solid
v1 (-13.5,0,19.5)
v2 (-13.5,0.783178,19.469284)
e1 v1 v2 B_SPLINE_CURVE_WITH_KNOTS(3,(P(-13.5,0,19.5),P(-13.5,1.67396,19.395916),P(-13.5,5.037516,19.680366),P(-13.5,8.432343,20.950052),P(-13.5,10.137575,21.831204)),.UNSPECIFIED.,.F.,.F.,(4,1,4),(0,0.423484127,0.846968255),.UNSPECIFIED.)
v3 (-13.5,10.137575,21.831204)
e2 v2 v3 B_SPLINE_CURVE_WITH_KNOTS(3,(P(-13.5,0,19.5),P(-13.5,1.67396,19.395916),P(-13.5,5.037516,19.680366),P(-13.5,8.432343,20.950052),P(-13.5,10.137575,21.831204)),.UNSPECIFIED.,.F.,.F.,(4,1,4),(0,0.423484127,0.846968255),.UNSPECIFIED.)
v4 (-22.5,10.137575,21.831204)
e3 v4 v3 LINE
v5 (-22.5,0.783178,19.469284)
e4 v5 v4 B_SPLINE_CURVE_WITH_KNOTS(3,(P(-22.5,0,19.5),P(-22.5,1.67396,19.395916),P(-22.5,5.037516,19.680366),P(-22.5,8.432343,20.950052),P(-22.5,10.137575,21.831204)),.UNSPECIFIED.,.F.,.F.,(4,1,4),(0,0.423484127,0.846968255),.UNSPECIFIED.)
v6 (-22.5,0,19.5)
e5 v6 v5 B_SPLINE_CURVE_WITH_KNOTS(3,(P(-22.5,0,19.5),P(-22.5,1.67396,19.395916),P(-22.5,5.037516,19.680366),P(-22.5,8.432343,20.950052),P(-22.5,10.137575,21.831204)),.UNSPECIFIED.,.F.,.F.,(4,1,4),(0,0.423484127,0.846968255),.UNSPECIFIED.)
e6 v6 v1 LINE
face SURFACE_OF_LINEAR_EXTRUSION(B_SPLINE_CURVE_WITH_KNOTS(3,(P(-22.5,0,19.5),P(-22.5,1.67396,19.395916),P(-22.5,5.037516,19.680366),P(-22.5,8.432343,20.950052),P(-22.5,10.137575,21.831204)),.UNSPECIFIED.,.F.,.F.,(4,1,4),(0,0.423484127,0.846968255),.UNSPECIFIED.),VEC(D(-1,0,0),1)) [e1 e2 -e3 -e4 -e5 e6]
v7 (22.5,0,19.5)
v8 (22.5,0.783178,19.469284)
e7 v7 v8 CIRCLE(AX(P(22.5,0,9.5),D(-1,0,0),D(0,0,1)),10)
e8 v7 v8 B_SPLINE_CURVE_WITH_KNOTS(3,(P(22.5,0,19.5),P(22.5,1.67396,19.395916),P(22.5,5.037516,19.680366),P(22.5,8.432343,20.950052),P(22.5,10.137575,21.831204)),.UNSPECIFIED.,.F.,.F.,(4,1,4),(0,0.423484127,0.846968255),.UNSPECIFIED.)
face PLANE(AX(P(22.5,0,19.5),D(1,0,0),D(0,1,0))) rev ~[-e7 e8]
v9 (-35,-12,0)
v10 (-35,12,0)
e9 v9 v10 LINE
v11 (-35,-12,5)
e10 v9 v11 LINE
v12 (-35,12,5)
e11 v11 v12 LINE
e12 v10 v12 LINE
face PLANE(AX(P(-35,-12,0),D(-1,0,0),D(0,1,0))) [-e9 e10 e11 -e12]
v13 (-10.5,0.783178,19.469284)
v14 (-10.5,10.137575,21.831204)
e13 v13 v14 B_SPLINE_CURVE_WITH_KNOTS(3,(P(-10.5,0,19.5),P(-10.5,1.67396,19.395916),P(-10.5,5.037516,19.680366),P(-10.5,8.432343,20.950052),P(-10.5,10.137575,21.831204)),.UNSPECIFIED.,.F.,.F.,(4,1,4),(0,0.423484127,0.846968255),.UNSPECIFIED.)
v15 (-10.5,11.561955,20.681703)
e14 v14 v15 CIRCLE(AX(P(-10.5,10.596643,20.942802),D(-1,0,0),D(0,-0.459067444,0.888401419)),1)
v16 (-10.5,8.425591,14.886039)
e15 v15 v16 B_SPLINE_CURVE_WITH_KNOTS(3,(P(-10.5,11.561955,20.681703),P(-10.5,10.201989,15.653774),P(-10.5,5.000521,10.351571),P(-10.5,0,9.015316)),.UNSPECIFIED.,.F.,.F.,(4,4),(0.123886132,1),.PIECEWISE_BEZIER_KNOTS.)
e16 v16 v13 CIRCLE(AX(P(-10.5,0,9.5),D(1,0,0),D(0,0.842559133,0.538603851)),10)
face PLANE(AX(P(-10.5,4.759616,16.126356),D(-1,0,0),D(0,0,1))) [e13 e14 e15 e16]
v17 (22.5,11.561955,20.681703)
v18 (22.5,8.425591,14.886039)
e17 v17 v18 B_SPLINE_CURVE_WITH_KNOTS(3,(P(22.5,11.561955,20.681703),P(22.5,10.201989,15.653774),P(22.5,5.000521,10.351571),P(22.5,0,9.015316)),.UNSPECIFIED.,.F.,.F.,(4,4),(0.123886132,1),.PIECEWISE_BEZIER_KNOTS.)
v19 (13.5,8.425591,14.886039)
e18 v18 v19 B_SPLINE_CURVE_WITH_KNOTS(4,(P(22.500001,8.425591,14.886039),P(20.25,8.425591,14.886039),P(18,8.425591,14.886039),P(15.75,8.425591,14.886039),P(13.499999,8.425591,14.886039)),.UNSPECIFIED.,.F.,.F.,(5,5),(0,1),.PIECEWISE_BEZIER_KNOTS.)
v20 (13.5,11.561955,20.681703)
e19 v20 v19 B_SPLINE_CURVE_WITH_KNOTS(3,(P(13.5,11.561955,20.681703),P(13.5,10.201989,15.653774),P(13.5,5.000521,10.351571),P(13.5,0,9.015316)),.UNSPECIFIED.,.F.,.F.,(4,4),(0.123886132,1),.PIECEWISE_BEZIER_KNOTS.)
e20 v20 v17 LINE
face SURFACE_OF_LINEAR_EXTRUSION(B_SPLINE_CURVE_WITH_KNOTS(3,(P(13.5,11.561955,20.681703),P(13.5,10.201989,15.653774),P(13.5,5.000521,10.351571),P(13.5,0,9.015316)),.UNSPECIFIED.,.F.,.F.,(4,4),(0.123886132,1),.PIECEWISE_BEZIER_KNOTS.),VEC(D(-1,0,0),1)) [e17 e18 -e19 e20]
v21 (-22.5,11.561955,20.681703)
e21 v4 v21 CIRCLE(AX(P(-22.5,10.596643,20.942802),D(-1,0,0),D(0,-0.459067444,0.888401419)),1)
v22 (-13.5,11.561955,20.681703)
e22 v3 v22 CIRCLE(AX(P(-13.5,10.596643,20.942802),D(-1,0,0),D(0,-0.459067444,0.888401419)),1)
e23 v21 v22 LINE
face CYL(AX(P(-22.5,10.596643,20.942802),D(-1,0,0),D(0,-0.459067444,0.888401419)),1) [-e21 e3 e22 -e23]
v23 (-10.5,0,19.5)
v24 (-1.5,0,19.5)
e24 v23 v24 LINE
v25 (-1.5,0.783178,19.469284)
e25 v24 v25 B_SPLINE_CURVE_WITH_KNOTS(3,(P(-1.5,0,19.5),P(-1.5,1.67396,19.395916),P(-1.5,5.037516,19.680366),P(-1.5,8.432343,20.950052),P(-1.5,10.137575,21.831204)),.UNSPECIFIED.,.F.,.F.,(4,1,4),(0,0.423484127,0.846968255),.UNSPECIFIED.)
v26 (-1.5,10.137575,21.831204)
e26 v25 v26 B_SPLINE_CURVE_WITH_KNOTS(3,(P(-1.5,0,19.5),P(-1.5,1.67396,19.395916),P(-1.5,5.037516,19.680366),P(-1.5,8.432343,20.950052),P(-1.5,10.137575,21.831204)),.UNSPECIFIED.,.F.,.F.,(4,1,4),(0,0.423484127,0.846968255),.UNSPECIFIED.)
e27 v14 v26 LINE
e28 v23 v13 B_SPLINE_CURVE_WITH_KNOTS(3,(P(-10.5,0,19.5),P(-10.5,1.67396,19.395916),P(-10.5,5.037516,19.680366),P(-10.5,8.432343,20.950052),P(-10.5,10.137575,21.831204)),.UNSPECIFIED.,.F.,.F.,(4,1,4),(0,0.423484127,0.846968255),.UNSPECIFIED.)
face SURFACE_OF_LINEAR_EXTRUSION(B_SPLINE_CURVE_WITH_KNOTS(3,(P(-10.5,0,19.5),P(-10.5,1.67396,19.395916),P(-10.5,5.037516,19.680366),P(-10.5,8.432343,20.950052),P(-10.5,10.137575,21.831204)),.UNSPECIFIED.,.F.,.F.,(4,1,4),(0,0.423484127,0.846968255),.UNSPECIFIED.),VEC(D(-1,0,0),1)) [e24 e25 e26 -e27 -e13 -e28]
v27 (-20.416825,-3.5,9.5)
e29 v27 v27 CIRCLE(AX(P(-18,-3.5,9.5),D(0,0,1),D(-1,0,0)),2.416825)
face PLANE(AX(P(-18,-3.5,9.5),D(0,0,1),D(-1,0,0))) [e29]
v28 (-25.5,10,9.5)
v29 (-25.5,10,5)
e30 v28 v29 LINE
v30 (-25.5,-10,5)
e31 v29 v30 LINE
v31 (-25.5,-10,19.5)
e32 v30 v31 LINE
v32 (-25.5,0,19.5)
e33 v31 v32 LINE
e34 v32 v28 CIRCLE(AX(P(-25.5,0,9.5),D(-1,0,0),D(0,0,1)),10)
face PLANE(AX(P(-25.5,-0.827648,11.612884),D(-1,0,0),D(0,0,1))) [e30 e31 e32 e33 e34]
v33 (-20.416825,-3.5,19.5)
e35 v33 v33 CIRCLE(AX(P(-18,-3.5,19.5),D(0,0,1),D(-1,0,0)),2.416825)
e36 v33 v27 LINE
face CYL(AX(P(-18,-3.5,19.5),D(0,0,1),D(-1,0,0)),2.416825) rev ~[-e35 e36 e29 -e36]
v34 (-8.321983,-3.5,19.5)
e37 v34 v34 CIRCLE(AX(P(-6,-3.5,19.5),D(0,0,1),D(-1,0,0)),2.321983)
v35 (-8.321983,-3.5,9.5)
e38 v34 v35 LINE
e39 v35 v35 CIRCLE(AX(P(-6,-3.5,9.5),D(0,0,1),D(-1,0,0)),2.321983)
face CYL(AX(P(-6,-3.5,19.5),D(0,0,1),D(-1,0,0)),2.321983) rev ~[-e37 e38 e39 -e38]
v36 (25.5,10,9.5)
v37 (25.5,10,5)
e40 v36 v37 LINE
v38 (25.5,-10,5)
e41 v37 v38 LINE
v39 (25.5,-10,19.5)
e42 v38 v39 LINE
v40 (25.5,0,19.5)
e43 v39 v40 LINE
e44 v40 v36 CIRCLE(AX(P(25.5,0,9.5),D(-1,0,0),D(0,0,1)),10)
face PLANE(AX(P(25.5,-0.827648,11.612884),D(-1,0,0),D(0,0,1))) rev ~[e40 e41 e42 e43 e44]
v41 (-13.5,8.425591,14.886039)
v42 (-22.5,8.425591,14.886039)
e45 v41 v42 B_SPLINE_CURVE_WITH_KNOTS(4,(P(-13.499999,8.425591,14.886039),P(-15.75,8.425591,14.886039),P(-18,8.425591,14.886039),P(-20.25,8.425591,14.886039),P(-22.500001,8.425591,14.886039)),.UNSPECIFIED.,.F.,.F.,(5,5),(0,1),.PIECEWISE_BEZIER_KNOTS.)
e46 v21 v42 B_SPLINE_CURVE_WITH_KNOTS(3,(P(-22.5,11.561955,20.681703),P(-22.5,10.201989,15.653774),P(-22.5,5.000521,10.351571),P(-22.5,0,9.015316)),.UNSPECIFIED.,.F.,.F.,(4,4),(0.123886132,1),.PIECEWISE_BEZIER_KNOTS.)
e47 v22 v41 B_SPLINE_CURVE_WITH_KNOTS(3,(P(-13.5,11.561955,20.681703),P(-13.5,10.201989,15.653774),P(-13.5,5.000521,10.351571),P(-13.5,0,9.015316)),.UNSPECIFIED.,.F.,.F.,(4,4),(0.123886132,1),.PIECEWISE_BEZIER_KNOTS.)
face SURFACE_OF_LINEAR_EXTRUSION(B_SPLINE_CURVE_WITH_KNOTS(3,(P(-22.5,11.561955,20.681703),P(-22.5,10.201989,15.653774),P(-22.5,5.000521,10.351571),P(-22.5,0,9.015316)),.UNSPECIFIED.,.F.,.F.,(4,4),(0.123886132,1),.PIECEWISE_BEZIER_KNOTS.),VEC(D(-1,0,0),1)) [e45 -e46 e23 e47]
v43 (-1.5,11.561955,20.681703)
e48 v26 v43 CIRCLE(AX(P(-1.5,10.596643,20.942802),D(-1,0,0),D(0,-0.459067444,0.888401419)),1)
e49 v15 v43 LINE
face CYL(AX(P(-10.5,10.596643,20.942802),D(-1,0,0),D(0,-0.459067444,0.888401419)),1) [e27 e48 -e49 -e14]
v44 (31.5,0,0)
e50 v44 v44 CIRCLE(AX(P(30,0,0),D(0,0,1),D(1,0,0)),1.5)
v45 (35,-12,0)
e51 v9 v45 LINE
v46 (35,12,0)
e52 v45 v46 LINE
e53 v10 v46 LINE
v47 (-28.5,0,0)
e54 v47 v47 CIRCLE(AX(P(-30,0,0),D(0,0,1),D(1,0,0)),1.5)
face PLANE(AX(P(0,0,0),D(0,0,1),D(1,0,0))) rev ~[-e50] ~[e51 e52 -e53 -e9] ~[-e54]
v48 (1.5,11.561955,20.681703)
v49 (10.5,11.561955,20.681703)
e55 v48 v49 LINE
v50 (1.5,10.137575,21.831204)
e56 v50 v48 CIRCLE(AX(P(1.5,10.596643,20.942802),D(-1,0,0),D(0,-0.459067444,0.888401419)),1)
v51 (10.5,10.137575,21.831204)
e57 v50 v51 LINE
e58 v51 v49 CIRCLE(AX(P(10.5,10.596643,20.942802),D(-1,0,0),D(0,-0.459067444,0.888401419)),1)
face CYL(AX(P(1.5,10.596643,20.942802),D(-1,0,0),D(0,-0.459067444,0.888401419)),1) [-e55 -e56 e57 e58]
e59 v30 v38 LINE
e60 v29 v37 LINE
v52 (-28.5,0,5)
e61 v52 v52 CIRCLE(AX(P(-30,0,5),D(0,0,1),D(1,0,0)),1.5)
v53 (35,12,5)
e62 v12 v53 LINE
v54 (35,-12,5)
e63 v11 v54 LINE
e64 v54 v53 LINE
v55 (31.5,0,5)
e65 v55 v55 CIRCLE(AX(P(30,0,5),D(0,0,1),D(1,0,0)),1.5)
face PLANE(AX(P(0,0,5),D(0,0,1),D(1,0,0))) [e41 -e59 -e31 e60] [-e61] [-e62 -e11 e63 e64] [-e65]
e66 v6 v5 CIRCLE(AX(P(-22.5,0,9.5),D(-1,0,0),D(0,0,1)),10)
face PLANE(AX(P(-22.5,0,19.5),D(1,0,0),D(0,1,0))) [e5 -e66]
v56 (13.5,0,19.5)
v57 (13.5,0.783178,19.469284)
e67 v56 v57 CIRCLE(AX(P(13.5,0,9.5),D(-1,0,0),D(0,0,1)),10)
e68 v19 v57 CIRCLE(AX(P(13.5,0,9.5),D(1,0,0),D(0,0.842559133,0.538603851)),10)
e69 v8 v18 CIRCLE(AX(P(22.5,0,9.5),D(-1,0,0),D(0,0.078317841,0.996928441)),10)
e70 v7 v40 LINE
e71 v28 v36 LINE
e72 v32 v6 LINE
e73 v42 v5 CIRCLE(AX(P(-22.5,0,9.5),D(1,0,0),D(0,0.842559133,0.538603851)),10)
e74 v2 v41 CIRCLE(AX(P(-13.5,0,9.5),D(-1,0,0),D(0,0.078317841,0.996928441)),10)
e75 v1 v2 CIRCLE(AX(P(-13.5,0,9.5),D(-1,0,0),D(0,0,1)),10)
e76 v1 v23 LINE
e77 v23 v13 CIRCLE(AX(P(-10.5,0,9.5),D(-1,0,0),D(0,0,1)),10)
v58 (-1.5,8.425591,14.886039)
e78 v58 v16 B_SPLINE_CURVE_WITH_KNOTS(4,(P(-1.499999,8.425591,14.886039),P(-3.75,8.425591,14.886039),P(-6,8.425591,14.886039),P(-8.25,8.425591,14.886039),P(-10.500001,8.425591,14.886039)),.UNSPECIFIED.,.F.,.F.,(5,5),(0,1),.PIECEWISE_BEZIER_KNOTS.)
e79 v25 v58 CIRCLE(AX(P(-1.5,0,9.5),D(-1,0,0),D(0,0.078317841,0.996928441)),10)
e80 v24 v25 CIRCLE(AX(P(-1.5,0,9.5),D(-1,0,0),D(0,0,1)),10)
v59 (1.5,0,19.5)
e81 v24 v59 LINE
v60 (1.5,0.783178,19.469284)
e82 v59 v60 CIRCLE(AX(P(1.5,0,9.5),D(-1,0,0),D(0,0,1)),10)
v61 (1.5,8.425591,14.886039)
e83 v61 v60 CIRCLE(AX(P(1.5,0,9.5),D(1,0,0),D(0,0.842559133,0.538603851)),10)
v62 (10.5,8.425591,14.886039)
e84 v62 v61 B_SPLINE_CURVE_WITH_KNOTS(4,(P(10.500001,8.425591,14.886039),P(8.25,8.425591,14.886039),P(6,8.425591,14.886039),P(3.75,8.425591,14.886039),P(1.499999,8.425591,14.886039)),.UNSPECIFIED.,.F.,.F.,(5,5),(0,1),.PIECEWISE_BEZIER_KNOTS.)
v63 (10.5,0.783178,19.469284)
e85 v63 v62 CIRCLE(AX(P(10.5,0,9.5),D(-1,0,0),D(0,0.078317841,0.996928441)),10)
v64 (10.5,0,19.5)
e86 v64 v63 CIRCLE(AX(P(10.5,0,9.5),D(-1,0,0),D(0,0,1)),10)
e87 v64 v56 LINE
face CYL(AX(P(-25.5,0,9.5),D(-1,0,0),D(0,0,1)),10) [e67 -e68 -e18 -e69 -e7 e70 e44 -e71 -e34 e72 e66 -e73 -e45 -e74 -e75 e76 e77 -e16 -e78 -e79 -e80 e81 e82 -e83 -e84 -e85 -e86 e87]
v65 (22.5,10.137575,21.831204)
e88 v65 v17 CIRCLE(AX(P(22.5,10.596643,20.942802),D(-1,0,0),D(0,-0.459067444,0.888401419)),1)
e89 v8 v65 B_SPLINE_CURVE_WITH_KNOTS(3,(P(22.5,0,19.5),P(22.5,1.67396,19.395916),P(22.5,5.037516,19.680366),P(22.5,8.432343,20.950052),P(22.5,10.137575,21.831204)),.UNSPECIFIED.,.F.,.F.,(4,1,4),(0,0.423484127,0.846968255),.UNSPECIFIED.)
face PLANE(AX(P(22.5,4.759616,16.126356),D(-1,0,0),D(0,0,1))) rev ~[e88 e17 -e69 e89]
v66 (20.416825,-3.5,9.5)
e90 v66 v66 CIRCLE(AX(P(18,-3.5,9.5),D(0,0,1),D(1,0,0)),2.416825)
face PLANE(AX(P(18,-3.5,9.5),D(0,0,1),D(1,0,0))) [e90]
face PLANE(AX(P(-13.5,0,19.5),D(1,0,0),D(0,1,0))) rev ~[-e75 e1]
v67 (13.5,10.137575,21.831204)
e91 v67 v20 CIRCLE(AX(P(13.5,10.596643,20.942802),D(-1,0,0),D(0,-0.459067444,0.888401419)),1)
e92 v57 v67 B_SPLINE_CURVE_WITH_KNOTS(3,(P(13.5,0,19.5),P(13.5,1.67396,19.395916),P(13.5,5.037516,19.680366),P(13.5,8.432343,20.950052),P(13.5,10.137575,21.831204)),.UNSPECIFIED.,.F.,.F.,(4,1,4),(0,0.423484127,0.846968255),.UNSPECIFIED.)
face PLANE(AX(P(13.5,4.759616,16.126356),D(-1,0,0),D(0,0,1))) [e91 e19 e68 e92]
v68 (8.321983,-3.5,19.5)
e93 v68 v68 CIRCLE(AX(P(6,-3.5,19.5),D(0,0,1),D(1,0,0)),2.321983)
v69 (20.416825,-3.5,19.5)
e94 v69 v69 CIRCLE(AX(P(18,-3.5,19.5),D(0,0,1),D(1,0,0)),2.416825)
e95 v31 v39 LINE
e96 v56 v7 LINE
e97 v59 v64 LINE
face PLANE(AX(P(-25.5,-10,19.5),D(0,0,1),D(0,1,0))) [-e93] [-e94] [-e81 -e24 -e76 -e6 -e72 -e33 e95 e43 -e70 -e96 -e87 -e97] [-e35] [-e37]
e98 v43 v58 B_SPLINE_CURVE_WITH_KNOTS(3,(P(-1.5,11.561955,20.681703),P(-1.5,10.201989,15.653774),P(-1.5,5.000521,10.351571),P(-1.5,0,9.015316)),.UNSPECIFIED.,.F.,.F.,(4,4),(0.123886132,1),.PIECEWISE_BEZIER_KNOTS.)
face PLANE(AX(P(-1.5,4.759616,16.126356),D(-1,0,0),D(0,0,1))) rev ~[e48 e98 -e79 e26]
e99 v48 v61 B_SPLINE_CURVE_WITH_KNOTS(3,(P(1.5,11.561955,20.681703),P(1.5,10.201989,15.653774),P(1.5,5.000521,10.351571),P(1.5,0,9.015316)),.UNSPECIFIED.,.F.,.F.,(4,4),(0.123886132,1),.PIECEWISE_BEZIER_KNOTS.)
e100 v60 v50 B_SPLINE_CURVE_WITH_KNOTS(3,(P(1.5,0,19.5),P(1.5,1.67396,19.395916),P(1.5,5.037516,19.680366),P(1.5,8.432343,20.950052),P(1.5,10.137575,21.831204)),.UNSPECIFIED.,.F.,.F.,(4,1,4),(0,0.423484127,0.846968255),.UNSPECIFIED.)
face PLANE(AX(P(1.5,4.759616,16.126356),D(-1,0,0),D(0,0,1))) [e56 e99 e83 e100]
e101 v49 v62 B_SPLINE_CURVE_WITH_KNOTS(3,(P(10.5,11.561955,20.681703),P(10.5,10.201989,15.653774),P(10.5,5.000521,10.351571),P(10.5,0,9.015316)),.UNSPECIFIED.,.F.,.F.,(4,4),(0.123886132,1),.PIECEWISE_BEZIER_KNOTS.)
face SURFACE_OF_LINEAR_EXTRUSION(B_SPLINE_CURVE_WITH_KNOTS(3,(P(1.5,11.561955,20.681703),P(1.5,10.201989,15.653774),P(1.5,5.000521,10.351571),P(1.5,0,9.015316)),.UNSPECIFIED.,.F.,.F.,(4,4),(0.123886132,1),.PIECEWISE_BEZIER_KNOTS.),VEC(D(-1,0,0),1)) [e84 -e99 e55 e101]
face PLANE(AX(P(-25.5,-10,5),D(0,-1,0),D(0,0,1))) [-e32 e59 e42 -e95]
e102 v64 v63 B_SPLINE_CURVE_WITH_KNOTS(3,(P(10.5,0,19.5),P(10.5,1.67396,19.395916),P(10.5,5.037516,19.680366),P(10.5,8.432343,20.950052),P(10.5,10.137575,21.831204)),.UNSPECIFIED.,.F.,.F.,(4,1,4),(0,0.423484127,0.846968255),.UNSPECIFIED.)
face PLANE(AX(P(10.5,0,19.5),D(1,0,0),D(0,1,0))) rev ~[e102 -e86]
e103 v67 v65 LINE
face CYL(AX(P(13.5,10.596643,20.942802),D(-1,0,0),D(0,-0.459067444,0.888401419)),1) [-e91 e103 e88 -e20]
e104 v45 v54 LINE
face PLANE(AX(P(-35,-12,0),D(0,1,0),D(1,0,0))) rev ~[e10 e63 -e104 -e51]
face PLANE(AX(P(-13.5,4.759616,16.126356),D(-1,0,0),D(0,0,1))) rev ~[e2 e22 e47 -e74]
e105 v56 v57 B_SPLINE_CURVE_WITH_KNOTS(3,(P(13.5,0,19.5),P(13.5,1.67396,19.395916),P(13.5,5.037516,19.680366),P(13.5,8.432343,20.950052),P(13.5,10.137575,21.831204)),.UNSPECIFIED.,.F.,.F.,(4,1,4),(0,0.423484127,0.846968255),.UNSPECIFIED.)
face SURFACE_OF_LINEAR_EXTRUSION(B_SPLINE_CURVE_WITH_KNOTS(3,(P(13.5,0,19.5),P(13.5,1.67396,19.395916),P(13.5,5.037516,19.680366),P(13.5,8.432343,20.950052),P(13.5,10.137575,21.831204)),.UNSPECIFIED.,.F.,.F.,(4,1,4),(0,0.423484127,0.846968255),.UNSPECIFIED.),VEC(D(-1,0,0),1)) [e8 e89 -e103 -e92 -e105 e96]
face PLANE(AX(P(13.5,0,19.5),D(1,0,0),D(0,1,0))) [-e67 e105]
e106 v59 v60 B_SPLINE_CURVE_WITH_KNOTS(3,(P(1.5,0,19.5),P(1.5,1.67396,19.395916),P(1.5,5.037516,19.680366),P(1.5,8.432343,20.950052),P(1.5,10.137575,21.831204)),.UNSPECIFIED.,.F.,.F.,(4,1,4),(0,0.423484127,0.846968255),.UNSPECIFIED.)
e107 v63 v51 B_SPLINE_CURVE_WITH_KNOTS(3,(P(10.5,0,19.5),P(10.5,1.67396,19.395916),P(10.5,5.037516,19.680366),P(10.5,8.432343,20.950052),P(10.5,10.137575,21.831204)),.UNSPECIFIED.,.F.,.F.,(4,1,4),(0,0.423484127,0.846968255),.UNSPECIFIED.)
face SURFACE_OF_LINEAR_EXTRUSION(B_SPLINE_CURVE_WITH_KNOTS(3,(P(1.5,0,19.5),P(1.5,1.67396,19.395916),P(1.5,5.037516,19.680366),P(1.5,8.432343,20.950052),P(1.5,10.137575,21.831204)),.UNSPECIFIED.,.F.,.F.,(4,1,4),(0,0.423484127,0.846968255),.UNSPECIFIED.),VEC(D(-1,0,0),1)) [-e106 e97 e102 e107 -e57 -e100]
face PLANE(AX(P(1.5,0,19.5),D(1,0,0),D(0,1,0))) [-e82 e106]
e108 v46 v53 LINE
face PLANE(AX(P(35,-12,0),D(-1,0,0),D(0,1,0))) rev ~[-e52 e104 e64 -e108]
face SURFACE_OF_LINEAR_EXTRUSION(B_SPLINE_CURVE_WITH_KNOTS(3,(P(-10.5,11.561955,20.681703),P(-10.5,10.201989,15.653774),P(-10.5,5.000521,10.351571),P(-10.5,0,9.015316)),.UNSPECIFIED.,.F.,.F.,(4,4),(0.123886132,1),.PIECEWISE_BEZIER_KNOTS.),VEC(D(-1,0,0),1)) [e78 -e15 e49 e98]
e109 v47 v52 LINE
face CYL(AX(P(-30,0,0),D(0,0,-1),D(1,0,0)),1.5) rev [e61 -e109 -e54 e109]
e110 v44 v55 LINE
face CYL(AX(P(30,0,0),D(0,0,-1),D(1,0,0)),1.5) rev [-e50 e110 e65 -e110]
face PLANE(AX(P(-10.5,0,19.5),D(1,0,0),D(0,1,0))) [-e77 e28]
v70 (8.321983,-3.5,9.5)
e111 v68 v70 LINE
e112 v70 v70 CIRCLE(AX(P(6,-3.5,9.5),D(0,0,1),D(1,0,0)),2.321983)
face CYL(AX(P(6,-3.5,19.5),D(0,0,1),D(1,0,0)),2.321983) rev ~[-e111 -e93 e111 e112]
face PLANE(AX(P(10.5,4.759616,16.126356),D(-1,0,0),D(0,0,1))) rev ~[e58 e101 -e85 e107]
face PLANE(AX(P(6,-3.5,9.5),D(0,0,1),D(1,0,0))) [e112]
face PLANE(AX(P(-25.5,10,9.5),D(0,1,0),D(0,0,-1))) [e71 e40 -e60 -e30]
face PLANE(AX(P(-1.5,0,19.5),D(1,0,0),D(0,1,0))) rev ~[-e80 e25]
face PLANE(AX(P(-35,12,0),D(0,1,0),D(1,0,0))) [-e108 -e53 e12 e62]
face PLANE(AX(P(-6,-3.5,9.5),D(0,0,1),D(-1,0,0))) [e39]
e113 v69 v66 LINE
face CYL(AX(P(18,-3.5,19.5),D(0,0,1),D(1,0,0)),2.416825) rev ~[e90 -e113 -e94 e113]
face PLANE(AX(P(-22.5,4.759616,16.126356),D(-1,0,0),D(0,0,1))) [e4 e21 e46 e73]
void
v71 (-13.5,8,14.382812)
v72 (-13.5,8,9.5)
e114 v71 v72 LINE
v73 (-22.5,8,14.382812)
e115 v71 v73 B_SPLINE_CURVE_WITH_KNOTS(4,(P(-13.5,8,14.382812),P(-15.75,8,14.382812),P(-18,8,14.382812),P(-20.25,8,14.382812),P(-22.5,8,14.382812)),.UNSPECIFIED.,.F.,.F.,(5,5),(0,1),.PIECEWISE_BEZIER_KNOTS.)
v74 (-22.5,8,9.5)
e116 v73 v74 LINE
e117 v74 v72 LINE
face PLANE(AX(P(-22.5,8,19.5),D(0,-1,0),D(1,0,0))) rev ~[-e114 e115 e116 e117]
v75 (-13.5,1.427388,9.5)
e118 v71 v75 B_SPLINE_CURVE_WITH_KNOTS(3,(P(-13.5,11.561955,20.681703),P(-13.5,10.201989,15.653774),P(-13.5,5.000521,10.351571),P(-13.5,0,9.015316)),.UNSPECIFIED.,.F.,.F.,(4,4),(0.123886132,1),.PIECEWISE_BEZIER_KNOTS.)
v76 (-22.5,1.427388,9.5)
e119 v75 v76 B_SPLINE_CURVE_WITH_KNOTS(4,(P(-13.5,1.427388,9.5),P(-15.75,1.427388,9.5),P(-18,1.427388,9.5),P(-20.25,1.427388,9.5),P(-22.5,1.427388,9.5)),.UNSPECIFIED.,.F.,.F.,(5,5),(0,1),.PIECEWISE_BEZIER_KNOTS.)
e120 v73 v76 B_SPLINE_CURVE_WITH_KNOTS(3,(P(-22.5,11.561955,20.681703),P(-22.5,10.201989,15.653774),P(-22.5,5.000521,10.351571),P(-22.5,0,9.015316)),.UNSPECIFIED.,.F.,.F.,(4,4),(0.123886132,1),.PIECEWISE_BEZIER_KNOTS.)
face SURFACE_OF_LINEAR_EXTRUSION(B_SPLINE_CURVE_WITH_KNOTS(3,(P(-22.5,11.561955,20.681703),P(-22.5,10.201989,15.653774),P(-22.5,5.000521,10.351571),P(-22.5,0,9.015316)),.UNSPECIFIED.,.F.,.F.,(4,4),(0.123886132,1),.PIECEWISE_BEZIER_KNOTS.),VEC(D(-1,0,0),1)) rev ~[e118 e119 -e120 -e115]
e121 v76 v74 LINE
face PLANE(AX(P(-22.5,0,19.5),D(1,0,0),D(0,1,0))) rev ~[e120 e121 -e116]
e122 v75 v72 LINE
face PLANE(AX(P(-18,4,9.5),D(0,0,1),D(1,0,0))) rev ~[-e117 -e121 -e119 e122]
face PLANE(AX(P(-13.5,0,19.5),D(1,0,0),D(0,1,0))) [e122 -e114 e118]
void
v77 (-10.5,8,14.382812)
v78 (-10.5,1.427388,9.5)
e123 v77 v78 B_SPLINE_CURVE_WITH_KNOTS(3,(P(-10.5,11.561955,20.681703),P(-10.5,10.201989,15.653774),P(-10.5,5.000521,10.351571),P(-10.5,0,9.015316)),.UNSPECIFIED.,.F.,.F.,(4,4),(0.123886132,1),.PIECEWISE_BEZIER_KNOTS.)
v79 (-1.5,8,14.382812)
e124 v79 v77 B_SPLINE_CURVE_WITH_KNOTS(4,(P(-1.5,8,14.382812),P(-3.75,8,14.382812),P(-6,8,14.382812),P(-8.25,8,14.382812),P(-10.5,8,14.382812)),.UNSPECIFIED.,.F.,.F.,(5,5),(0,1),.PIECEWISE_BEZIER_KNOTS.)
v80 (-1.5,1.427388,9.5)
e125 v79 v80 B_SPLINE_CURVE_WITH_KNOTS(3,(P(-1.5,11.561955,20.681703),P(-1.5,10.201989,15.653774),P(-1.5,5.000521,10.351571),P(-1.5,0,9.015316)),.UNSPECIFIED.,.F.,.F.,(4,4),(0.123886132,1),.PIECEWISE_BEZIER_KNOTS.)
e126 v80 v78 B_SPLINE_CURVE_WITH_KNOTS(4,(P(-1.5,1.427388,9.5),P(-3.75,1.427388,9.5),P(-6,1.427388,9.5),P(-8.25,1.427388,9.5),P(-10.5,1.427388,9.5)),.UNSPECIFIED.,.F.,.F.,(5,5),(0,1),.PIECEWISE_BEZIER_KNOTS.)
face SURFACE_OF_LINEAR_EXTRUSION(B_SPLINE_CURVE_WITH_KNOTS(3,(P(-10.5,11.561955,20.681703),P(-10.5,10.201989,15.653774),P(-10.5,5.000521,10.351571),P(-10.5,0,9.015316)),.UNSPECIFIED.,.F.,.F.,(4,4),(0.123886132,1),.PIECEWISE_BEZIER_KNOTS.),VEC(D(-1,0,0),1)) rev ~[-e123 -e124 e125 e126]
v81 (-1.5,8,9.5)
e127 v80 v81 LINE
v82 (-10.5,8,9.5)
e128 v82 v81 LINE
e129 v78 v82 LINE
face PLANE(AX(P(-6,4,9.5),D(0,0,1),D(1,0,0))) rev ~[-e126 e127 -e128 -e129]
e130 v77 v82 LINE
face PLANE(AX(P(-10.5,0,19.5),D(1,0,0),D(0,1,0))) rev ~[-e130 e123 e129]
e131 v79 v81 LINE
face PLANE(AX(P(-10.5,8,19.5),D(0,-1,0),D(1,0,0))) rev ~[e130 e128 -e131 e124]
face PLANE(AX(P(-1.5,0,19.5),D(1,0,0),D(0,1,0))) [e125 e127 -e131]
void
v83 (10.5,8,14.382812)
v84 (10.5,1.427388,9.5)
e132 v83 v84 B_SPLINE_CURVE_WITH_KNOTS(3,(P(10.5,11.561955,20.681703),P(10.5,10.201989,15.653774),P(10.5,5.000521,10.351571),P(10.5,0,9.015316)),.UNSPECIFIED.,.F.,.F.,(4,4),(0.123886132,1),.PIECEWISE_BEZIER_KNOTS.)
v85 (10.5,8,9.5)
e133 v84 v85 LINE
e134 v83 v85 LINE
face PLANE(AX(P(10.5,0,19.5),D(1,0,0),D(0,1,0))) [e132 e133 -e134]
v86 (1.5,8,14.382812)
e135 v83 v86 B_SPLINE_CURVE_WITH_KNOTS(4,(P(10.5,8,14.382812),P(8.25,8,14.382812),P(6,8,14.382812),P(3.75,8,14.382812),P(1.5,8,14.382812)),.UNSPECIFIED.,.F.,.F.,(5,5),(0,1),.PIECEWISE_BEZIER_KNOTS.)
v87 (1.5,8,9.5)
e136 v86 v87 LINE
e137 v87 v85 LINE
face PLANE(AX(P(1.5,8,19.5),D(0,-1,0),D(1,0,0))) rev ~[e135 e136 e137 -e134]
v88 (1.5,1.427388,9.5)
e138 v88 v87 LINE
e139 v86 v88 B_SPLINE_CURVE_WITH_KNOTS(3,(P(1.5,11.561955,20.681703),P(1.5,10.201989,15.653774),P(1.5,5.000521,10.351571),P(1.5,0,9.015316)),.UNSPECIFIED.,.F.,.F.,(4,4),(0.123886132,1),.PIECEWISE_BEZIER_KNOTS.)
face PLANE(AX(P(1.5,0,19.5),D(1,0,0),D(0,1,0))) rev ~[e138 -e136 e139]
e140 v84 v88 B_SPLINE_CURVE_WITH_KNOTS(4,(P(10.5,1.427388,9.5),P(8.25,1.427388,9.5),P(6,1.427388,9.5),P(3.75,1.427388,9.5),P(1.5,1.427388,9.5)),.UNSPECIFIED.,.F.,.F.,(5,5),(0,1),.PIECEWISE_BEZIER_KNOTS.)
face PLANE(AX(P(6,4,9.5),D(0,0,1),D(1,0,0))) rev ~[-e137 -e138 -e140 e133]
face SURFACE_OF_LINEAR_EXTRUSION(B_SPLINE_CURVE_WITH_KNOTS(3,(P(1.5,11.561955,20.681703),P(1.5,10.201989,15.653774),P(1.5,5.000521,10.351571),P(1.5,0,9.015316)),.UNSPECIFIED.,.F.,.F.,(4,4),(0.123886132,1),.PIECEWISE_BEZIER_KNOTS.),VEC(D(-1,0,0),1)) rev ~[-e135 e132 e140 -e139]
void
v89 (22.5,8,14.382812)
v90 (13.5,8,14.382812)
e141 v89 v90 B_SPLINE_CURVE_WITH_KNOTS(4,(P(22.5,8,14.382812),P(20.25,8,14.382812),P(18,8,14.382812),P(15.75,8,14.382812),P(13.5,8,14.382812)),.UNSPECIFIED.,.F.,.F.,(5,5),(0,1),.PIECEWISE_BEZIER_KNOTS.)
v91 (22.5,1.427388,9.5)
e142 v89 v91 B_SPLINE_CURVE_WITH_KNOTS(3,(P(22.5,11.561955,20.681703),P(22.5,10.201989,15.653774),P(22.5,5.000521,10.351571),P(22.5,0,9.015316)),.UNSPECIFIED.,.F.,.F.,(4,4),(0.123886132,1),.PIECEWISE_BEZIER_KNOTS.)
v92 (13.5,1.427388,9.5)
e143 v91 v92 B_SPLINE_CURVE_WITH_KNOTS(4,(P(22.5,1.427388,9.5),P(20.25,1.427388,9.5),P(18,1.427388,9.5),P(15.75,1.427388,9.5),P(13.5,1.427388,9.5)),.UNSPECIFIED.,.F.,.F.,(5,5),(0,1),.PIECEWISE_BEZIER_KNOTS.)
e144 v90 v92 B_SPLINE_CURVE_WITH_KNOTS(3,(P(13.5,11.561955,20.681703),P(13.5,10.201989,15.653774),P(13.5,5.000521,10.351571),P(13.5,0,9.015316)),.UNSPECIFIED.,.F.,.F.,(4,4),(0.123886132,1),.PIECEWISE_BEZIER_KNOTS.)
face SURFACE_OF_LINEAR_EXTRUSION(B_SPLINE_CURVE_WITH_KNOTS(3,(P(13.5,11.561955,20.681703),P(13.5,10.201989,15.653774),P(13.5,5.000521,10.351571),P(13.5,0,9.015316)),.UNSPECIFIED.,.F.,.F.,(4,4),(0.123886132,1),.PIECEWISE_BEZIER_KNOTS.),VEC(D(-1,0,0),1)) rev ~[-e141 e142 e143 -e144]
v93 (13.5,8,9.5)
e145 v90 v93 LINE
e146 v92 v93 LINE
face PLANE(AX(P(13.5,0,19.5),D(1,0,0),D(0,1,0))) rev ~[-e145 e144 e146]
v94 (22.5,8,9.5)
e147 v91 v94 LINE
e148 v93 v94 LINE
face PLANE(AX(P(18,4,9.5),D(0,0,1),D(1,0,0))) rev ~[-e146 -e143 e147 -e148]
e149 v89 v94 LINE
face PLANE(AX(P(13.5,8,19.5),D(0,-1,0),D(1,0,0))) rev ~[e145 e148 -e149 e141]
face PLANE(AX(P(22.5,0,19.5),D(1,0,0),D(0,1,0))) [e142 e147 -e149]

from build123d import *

# Parameters (mm, degrees)
SKETCH1_W                = 70
SKETCH1_H                = 24
SKETCH1_R                = 1.5
BOSS_EXTRUDE1_DEPTH      = 5
BOSS_EXTRUDE2_DEPTH      = 25.5
BOSS_EXTRUDE2_DEPTH_BACK = 25.5
SKETCH3_R                = 2.321982534
SKETCH3_R_2              = 2.416824645
SKETCH3_W                = 9
SKETCH3_H                = 8
CUT_EXTRUDE1_DEPTH       = 10
BOSS_EXTRUDE3_DEPTH      = 9
BOSS_EXTRUDE4_DEPTH      = 9
BOSS_EXTRUDE5_DEPTH      = 9
BOSS_EXTRUDE6_DEPTH      = 9


with BuildPart() as part:
    # Sketch1 → Boss-Extrude1 (new body)
    with BuildSketch(Plane.XY):
        Rectangle(SKETCH1_W, SKETCH1_H)
        with Locations((-30, 0)):
            Circle(SKETCH1_R, mode=Mode.SUBTRACT)
        with Locations((30, 0)):
            Circle(SKETCH1_R, mode=Mode.SUBTRACT)
    extrude(amount=BOSS_EXTRUDE1_DEPTH)

    # Sketch2 → Boss-Extrude2 (add, two sides: drawn at the far end of the back side and taken through both)
    with BuildSketch(Plane(origin=(0, 0, 0), x_dir=(0, 0, -1), z_dir=(1, 0, 0)).offset(-BOSS_EXTRUDE2_DEPTH_BACK)):
        with BuildLine():
            Line((-5, -10), (-19.5, -10))
            Line((-19.5, -10), (-19.5, 0))
            ThreePointArc((-19.5, 0), (-16.571067812, 7.071067812), (-9.5, 10))
            Line((-9.5, 10), (-5, 10))
            Line((-5, 10), (-5, -10))
        make_face()
    extrude(amount=BOSS_EXTRUDE2_DEPTH + BOSS_EXTRUDE2_DEPTH_BACK)

    # Sketch3 → Cut-Extrude1 (cut)
    with BuildSketch(Plane.XY.offset(19.5)):
        with Locations((6, -3.5)):
            Circle(SKETCH3_R)
        with Locations((18, -3.5)):
            Circle(SKETCH3_R_2)
        with Locations((-18, -3.5)):
            Circle(SKETCH3_R_2)
        with Locations((-6, -3.5)):
            Circle(SKETCH3_R)
        with Locations((6, 4)):
            Rectangle(SKETCH3_W, SKETCH3_H)
        with Locations((18, 4)):
            Rectangle(SKETCH3_W, SKETCH3_H)
        with Locations((-18, 4)):
            Rectangle(SKETCH3_W, SKETCH3_H)
        with Locations((-6, 4)):
            Rectangle(SKETCH3_W, SKETCH3_H)
    extrude(amount=-CUT_EXTRUDE1_DEPTH, mode=Mode.SUBTRACT)

    # Sketch4 → Boss-Extrude3 (add)
    with BuildSketch(Plane.ZY.offset(22.5)):
        with BuildLine():
            Line((9.015316461, 0), (19.5, 0))
            add(Edge.make_bspline(
                [(19.5, 0), (19.395916198, 1.673959857), (19.680366362, 5.037515591), (20.950052063, 8.432343367), (21.831203798, 10.137575266)],
                knots=[0, 0, 0, 0, 0.423484127, 0.846968255, 0.846968255, 0.846968255, 0.846968255], degree=3))
            ThreePointArc((21.831203798, 10.137575266), (21.720999609, 11.224662671), (20.681702642, 11.56195454))
            add(Edge.make_bspline(
                [(20.681702642, 11.56195454), (15.653773695, 10.201988893), (10.35157066, 5.000520578), (9.015316461, 0)],
                knots=[0.123886132, 0.123886132, 0.123886132, 0.123886132, 1, 1, 1, 1], degree=3))
        make_face()
    extrude(amount=-BOSS_EXTRUDE3_DEPTH)

    # Sketch6 → Boss-Extrude4 (add)
    with BuildSketch(Plane(origin=(-10.5, 0, 0), x_dir=(0, 0, -1), z_dir=(1, 0, 0))):
        with BuildLine():
            Line((-9.015316461, 0), (-19.5, 0))
            add(Edge.make_bspline(
                [(-19.5, 0), (-19.395916198, 1.673959857), (-19.680366362, 5.037515591), (-20.950052063, 8.432343367), (-21.831203798, 10.137575266)],
                knots=[0, 0, 0, 0, 0.423484127, 0.846968255, 0.846968255, 0.846968255, 0.846968255], degree=3))
            ThreePointArc((-21.831203798, 10.137575266), (-21.720999609, 11.224662671), (-20.681702642, 11.56195454))
            add(Edge.make_bspline(
                [(-20.681702642, 11.56195454), (-15.653773695, 10.201988893), (-10.35157066, 5.000520578), (-9.015316461, 0)],
                knots=[0.123886132, 0.123886132, 0.123886132, 0.123886132, 1, 1, 1, 1], degree=3))
        make_face()
    extrude(amount=BOSS_EXTRUDE4_DEPTH)

    # Sketch7 → Boss-Extrude5 (add)
    with BuildSketch(Plane(origin=(1.5, 0, 0), x_dir=(0, 0, -1), z_dir=(1, 0, 0))):
        with BuildLine():
            Line((-9.015316461, 0), (-19.5, 0))
            add(Edge.make_bspline(
                [(-19.5, 0), (-19.395916198, 1.673959857), (-19.680366362, 5.037515591), (-20.950052063, 8.432343367), (-21.831203798, 10.137575266)],
                knots=[0, 0, 0, 0, 0.423484127, 0.846968255, 0.846968255, 0.846968255, 0.846968255], degree=3))
            ThreePointArc((-21.831203798, 10.137575266), (-21.720999609, 11.224662671), (-20.681702642, 11.56195454))
            add(Edge.make_bspline(
                [(-20.681702642, 11.56195454), (-15.653773695, 10.201988893), (-10.35157066, 5.000520578), (-9.015316461, 0)],
                knots=[0.123886132, 0.123886132, 0.123886132, 0.123886132, 1, 1, 1, 1], degree=3))
        make_face()
    extrude(amount=BOSS_EXTRUDE5_DEPTH)

    # Sketch8 → Boss-Extrude6 (add)
    with BuildSketch(Plane(origin=(13.5, 0, 0), x_dir=(0, 0, -1), z_dir=(1, 0, 0))):
        with BuildLine():
            Line((-9.015316461, 0), (-19.5, 0))
            add(Edge.make_bspline(
                [(-19.5, 0), (-19.395916198, 1.673959857), (-19.680366362, 5.037515591), (-20.950052063, 8.432343367), (-21.831203798, 10.137575266)],
                knots=[0, 0, 0, 0, 0.423484127, 0.846968255, 0.846968255, 0.846968255, 0.846968255], degree=3))
            ThreePointArc((-21.831203798, 10.137575266), (-21.720999609, 11.224662671), (-20.681702642, 11.56195454))
            add(Edge.make_bspline(
                [(-20.681702642, 11.56195454), (-15.653773695, 10.201988893), (-10.35157066, 5.000520578), (-9.015316461, 0)],
                knots=[0.123886132, 0.123886132, 0.123886132, 0.123886132, 1, 1, 1, 1], degree=3))
        make_face()
    extrude(amount=BOSS_EXTRUDE6_DEPTH)


solid = part.part
